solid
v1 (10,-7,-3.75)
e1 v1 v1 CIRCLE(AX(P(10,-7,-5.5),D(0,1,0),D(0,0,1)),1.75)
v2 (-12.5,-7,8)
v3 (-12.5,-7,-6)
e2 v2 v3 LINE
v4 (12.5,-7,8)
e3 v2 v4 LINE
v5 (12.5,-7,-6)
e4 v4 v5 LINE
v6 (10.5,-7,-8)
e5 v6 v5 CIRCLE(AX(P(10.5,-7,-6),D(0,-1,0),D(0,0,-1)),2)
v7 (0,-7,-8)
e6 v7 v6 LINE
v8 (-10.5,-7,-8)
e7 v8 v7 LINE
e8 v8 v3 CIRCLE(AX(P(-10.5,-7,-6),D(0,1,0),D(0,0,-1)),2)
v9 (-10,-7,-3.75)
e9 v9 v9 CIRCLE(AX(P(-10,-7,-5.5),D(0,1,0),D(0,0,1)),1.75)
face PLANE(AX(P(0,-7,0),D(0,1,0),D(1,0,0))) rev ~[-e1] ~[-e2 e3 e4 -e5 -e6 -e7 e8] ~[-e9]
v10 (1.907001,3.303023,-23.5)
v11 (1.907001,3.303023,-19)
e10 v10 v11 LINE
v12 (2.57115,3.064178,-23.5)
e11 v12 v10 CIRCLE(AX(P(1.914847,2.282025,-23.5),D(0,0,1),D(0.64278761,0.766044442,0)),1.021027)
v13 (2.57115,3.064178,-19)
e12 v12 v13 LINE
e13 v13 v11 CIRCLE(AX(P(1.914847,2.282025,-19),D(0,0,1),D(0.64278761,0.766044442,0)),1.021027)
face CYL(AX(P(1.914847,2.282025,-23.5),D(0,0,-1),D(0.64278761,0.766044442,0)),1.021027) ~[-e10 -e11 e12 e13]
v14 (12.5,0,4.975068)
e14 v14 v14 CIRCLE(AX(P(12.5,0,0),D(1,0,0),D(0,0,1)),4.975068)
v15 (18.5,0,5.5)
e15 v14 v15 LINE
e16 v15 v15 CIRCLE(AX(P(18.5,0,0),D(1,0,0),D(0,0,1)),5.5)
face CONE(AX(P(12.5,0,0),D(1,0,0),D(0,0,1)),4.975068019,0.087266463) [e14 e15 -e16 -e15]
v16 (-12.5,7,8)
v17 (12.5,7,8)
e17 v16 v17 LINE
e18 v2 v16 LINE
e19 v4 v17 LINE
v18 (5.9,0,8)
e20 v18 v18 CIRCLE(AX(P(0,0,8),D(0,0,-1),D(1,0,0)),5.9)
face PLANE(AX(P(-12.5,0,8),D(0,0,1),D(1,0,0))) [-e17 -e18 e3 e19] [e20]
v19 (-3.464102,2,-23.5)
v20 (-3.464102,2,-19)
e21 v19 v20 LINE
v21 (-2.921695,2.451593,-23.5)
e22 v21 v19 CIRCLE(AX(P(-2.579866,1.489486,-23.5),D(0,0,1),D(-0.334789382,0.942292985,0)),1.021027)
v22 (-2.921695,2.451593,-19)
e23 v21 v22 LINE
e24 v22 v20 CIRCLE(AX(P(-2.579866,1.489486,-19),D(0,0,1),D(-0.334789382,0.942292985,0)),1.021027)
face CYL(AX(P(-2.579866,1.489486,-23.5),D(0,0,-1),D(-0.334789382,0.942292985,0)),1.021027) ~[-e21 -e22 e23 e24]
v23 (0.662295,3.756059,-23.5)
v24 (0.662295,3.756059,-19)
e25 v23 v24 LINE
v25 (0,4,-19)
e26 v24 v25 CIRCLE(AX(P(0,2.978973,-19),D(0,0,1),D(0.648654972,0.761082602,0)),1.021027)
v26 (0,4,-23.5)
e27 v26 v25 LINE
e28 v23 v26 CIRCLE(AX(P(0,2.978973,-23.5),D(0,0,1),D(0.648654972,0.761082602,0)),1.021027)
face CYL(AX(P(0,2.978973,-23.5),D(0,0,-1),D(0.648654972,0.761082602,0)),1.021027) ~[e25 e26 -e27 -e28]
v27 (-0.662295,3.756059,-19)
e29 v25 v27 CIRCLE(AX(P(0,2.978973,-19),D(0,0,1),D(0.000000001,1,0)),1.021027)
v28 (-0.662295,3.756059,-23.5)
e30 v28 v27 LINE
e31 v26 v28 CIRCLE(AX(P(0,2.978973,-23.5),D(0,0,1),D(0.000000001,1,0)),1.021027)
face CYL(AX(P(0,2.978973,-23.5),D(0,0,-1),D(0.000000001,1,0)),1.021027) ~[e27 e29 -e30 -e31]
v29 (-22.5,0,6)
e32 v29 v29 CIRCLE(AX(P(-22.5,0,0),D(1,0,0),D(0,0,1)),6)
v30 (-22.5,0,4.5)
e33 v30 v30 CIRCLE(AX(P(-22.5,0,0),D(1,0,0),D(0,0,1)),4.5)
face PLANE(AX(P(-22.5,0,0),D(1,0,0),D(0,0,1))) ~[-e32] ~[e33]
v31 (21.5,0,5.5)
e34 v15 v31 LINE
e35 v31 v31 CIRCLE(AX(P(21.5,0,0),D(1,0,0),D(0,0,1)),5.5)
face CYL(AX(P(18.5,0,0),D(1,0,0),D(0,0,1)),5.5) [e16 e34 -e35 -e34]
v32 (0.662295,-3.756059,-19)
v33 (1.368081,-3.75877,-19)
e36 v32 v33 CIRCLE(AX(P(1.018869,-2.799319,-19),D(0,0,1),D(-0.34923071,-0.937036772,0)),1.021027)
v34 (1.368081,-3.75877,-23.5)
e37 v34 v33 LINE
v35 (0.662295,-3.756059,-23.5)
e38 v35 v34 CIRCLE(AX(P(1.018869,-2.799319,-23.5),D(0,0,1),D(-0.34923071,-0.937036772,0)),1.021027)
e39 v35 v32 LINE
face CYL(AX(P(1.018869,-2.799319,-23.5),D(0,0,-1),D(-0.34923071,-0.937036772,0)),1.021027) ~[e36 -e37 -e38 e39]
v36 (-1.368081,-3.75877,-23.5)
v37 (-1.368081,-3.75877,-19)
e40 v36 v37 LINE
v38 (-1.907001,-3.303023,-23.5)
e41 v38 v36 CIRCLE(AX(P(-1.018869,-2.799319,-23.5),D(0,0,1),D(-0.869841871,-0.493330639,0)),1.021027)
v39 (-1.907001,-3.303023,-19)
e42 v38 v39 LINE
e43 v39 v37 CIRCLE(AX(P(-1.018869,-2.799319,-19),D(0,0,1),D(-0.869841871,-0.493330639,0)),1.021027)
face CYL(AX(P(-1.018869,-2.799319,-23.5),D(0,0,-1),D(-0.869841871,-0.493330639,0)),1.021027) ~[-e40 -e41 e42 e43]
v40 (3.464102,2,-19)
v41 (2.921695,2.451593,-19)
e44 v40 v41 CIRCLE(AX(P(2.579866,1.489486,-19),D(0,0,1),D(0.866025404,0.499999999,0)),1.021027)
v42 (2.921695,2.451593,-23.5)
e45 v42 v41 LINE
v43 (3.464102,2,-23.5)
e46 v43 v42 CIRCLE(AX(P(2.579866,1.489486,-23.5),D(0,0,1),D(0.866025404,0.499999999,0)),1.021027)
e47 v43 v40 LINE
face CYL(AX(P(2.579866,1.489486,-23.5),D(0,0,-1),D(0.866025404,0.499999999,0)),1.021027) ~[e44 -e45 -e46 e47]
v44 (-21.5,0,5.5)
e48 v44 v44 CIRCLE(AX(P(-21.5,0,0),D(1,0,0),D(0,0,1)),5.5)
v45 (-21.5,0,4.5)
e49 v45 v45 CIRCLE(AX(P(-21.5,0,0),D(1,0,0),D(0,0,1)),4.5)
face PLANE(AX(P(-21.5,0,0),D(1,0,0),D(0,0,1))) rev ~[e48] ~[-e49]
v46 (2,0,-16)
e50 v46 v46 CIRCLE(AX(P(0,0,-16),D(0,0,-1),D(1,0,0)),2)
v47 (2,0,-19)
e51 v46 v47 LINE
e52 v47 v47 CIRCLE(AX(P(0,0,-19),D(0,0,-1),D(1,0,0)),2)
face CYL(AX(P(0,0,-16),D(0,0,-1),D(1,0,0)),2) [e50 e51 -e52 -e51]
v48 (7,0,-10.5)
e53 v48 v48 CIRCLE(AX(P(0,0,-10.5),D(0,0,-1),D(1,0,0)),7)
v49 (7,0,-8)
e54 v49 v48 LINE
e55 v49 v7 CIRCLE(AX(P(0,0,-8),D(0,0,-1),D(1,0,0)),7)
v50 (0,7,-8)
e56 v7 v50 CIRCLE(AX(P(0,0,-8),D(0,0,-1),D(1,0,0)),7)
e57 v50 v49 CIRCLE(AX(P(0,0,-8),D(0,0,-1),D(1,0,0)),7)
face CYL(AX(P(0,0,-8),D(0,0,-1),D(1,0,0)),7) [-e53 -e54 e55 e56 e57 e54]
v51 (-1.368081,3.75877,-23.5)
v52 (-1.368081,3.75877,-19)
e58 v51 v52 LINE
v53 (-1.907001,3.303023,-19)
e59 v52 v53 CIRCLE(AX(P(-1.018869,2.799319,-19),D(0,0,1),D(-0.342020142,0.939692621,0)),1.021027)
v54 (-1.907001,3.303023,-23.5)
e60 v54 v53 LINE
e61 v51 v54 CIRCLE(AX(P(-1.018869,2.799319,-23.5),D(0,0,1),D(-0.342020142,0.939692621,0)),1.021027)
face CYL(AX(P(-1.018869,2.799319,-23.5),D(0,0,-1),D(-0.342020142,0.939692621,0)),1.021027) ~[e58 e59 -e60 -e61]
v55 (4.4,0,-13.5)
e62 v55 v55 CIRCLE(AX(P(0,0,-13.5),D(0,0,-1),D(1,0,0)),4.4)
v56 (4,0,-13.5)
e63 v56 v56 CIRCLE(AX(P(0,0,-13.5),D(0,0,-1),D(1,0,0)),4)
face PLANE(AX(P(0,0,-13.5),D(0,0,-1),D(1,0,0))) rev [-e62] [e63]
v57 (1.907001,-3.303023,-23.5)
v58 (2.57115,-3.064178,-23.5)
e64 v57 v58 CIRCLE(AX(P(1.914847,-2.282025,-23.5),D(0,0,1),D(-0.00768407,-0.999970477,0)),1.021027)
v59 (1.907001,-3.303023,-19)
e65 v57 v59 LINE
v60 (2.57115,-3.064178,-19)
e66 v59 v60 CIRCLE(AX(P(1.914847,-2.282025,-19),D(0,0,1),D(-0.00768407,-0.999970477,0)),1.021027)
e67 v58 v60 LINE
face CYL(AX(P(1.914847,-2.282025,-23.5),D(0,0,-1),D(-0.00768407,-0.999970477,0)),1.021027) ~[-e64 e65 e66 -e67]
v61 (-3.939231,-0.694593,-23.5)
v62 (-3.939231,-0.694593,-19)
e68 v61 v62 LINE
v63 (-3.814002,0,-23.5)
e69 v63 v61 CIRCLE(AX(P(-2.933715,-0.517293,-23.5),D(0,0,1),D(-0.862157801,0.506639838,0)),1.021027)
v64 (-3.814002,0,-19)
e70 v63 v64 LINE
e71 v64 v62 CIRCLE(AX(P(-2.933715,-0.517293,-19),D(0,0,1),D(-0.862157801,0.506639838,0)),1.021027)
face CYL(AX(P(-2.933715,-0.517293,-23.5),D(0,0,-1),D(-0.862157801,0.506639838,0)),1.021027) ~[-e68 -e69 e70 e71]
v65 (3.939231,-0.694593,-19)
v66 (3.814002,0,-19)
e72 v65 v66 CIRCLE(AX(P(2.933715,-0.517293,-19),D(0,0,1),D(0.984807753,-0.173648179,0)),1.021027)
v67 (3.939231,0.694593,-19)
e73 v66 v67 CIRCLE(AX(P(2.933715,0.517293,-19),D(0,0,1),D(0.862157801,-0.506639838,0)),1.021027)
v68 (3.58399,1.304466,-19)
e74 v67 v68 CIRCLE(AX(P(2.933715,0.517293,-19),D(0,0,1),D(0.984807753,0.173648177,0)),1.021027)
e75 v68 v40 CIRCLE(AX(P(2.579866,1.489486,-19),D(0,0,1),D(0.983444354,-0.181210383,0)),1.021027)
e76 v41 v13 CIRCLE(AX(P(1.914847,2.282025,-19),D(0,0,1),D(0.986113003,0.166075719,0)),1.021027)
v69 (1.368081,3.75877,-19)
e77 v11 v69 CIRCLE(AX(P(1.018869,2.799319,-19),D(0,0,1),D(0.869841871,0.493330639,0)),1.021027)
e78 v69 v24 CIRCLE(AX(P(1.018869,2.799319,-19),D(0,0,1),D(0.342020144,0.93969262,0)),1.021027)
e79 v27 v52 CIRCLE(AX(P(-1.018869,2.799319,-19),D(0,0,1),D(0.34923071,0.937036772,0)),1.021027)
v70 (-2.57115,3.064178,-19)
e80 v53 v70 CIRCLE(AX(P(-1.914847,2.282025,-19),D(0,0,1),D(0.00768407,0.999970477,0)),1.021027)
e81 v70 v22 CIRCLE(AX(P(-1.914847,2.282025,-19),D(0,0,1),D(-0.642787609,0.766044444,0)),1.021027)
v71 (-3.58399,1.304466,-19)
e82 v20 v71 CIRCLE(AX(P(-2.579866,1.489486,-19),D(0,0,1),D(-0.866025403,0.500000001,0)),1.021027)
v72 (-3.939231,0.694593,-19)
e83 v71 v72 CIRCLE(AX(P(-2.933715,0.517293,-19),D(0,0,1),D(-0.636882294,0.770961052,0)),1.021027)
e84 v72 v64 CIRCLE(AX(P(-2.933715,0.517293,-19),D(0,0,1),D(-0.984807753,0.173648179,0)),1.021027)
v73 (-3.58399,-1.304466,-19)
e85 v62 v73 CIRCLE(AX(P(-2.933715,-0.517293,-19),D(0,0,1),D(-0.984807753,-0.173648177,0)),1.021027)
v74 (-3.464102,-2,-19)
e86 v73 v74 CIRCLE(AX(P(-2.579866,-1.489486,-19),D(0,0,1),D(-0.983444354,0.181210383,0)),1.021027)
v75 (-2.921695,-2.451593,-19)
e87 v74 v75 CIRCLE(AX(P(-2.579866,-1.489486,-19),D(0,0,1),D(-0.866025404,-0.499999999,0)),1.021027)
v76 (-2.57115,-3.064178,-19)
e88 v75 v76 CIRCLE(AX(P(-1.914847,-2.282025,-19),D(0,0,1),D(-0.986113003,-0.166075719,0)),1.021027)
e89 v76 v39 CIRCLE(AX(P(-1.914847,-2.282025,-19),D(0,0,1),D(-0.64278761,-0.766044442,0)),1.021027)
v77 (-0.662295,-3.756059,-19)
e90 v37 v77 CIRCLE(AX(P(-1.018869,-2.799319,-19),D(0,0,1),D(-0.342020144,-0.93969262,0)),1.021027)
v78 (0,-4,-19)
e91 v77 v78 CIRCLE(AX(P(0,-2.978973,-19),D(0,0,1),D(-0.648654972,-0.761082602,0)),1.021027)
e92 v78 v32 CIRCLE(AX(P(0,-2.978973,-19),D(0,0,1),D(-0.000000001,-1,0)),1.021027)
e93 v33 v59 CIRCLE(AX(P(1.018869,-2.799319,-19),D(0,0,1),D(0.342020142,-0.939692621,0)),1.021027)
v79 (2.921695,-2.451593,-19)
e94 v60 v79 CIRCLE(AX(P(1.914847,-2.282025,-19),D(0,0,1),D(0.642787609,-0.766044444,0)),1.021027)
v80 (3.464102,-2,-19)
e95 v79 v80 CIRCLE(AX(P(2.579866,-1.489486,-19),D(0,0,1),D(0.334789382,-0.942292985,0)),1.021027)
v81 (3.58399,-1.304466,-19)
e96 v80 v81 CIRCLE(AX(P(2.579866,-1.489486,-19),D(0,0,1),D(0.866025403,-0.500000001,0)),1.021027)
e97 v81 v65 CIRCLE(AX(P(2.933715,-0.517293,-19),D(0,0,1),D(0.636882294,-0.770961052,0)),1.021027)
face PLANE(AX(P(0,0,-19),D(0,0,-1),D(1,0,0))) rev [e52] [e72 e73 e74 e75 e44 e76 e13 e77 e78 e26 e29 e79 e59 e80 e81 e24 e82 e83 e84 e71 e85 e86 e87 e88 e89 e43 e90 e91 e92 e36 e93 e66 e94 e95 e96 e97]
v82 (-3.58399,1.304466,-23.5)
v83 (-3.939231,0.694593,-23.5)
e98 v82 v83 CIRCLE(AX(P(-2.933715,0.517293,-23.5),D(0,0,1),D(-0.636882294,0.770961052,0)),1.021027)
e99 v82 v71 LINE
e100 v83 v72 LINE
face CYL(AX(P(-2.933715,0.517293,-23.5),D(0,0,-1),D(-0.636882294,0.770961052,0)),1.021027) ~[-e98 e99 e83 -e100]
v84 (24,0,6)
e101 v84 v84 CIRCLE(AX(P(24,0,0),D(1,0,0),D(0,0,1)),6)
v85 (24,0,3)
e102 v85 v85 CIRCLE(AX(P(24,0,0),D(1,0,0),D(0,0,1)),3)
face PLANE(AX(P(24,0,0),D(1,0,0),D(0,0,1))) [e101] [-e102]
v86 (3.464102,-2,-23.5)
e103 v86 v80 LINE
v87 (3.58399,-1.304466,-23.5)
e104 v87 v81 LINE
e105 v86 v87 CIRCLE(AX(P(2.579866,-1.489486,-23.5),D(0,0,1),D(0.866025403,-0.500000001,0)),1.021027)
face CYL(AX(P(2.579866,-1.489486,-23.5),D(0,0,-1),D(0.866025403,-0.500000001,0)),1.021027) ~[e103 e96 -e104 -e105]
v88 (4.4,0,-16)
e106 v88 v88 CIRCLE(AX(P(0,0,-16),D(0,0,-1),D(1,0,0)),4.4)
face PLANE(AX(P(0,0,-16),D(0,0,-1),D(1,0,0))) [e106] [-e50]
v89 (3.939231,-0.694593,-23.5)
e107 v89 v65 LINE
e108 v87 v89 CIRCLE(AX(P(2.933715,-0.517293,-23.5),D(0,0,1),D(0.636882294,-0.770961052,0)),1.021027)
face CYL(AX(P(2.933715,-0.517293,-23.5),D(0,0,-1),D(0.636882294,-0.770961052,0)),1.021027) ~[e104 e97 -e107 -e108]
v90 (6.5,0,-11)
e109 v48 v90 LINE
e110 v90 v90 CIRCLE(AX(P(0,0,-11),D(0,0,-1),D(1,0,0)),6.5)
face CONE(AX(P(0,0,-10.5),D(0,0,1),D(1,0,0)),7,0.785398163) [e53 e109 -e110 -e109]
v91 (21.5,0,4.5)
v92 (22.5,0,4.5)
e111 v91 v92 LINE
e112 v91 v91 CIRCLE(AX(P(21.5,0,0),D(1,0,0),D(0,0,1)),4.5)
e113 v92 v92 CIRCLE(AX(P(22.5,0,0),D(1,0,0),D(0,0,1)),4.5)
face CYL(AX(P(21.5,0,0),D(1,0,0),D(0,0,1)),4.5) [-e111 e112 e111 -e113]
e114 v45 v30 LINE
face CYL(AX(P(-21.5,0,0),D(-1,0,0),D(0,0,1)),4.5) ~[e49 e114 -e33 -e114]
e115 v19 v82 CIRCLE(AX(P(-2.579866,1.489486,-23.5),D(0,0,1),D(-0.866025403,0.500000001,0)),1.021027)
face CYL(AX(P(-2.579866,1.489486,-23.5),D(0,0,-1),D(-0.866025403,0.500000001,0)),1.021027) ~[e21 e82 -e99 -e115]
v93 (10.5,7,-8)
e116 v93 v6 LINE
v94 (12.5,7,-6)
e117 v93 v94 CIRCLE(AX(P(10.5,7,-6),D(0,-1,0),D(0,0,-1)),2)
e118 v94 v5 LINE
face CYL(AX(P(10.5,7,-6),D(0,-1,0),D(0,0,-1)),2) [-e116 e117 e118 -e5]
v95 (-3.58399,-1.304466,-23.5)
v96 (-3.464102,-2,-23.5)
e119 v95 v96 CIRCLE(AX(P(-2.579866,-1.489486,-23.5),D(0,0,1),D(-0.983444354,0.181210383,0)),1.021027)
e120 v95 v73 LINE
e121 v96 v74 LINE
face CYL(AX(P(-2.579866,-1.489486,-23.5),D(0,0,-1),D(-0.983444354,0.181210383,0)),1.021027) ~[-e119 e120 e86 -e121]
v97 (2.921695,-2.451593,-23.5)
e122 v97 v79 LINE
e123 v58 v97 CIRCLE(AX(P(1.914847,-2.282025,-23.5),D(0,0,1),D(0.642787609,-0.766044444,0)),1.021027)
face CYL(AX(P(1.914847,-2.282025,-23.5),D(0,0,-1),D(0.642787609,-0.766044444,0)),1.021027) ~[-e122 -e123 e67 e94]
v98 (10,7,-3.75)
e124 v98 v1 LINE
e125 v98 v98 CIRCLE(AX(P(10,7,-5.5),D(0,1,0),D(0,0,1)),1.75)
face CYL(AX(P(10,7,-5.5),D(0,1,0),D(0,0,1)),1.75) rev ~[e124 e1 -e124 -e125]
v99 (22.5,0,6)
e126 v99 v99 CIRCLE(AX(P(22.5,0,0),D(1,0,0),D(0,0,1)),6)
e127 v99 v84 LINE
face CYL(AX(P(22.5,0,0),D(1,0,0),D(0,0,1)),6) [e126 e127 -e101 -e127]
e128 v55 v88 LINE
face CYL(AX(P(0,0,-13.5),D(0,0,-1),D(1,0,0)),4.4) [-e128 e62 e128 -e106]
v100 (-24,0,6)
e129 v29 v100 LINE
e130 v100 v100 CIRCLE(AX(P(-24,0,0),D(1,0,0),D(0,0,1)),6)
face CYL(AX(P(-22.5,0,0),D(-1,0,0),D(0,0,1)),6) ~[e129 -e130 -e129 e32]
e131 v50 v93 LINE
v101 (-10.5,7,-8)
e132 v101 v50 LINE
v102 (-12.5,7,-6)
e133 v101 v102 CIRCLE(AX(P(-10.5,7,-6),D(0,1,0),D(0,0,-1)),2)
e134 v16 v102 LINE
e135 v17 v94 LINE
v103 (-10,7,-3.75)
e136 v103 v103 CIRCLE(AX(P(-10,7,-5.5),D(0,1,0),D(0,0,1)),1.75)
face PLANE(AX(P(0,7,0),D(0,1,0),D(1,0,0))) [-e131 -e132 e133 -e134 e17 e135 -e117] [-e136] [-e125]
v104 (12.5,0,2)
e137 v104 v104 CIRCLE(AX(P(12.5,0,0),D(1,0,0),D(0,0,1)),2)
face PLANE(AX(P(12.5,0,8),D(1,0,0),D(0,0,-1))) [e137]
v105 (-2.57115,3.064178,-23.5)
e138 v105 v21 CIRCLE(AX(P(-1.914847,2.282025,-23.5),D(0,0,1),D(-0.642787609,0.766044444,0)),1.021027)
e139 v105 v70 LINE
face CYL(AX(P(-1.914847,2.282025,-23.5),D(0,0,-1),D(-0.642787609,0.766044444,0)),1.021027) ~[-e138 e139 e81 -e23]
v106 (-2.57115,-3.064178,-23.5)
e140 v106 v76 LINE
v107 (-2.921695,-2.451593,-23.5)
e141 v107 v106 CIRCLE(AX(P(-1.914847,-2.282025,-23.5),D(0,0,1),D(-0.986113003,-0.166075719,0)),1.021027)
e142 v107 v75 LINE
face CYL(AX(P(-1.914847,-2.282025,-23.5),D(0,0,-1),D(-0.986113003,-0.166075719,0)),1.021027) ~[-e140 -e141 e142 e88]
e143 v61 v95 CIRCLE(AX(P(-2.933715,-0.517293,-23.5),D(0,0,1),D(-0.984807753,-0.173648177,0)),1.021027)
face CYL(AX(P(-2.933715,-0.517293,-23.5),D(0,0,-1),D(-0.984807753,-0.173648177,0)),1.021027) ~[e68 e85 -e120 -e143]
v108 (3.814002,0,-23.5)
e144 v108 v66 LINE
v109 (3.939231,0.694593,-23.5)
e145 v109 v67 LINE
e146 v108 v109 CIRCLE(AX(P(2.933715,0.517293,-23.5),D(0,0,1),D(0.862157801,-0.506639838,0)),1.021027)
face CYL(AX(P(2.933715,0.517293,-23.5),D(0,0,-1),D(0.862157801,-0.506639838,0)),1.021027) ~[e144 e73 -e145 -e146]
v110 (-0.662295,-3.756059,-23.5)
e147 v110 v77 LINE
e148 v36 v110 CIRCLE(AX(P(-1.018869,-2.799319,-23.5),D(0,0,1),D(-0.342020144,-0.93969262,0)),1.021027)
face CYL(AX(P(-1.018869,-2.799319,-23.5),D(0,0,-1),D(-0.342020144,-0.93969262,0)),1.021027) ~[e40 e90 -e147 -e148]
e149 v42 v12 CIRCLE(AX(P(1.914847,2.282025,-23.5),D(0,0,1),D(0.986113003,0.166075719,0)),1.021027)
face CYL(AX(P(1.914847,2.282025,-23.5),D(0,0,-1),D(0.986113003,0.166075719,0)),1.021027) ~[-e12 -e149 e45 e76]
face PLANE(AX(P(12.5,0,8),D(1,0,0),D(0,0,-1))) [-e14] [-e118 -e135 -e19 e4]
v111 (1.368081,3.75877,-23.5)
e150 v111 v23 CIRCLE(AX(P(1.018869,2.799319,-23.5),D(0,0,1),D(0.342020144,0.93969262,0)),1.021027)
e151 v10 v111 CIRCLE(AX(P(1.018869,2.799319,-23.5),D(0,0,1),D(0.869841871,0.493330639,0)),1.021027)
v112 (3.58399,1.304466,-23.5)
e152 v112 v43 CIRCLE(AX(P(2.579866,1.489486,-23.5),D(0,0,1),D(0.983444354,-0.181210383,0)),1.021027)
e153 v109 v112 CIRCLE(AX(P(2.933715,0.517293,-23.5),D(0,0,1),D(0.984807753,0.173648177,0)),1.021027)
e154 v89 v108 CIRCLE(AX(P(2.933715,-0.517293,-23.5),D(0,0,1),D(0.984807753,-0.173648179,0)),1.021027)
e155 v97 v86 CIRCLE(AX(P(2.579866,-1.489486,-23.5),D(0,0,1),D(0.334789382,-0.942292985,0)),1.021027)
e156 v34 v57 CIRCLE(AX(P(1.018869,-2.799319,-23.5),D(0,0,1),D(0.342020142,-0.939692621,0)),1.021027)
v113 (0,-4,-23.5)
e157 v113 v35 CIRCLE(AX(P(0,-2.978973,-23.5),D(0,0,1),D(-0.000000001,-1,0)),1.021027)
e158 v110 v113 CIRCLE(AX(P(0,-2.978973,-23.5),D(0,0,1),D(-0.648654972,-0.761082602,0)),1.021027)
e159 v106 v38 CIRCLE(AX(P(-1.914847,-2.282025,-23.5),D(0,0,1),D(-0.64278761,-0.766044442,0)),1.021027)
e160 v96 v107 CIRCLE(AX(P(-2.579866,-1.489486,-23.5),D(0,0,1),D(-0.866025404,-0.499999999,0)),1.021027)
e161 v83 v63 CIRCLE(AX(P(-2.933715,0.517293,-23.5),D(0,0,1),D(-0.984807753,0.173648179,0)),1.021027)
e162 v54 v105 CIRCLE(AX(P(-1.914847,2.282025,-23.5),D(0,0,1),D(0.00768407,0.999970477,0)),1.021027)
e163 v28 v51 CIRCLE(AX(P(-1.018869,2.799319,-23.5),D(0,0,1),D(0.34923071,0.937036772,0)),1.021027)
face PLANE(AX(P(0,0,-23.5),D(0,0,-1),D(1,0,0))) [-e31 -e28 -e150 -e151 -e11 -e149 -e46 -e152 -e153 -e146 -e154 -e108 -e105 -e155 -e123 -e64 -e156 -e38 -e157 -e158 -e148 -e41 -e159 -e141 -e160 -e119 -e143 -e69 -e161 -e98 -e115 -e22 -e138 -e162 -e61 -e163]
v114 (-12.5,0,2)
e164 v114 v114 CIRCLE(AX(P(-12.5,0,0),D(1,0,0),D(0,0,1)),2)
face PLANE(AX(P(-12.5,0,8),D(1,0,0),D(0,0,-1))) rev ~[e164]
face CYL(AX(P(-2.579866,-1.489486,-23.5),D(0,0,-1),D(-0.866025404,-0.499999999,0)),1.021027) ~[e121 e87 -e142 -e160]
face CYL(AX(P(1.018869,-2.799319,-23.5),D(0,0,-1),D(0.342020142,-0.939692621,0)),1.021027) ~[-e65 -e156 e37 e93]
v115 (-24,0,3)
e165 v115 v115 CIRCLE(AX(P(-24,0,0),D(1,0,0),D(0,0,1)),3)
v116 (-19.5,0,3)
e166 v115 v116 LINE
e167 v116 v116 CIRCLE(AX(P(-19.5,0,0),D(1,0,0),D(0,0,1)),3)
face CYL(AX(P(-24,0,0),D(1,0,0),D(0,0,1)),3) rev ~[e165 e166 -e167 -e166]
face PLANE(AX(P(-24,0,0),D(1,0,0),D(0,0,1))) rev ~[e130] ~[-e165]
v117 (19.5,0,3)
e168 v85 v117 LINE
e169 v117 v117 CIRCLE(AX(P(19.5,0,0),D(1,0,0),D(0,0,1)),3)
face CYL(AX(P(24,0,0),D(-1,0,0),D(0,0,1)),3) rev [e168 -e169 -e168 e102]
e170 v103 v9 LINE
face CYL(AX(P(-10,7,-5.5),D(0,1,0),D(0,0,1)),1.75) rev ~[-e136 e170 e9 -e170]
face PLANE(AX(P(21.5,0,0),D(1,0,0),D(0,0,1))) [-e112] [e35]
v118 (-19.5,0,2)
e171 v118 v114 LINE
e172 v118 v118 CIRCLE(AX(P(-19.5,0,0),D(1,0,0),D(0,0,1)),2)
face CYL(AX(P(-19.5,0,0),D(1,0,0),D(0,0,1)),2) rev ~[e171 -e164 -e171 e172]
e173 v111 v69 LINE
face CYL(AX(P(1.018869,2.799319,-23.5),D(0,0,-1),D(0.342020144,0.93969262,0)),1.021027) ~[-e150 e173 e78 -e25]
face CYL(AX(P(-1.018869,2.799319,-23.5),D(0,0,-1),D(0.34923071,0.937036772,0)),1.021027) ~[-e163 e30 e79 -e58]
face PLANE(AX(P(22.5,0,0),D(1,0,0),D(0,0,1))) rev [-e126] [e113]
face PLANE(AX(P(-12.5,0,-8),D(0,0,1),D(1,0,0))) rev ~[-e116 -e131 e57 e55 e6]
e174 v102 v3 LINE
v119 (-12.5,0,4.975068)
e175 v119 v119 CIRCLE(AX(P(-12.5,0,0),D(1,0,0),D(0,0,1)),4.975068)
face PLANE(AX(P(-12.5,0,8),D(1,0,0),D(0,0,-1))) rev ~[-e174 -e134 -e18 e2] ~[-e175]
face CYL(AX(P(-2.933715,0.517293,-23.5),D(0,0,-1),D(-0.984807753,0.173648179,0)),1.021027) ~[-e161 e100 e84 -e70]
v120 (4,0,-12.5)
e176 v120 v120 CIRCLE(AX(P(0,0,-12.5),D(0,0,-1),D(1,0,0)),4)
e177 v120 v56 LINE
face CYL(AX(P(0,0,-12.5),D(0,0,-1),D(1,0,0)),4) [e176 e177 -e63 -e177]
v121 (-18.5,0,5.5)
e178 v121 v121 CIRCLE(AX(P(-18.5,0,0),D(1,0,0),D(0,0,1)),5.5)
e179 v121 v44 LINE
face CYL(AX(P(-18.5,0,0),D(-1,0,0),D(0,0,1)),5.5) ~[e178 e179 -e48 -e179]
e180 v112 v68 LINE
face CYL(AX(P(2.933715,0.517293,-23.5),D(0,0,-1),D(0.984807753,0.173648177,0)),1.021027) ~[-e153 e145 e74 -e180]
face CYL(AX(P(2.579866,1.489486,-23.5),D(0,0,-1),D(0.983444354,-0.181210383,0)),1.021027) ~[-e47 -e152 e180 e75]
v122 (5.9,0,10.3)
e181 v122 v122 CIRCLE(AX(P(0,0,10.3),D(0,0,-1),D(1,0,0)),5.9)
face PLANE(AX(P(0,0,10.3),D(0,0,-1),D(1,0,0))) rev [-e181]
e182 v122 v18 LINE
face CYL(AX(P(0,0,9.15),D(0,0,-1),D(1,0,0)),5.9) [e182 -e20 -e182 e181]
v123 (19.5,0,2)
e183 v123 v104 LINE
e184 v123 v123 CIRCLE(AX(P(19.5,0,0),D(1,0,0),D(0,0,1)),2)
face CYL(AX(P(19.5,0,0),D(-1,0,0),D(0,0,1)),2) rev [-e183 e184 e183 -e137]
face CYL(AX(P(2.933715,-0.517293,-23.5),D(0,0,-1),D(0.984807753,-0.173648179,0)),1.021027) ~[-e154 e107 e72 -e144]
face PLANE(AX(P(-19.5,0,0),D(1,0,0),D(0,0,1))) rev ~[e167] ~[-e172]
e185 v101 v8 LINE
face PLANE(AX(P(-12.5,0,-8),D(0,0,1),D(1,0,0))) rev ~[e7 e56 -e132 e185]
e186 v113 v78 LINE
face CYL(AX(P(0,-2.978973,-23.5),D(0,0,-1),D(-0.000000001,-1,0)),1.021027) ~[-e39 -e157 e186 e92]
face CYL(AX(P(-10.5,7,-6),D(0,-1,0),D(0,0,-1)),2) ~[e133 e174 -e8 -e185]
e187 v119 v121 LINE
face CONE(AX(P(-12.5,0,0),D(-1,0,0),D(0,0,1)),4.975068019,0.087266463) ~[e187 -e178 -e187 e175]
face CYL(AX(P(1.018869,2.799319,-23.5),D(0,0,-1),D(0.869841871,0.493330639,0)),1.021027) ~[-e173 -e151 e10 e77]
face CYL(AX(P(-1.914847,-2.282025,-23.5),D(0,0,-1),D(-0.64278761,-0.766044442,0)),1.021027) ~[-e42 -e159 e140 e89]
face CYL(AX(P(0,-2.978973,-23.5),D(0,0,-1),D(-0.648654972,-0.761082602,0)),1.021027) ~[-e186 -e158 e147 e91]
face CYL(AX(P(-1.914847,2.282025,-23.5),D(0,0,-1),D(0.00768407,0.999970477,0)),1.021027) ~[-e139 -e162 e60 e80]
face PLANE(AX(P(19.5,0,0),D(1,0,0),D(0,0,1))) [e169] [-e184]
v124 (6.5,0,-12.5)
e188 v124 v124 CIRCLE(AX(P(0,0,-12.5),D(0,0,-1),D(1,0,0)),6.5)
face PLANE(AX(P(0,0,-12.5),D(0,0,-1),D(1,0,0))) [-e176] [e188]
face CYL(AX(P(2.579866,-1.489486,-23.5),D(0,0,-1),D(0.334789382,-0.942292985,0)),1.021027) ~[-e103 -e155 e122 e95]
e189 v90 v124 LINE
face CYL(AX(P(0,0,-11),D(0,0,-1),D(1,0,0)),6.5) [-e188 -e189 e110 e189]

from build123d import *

# Parameters (mm, degrees)
SKETCH_1_W               = 25
SKETCH_1_H               = 16
EXTRUDE_1_DEPTH          = 7
SKETCH_3_W               = 5.9
SKETCH_3_H               = 2.3
FILLET_1_R               = 2
SKETCH_4_R               = 1.75
CUT_EXTRUDE_1_DEPTH      = 37.390245946
CUT_EXTRUDE_2_DEPTH      = 4.5
PATTERN_CIRCULAR_1_COUNT = 18


with BuildPart() as part:
    # 草图1 → 凸台-拉伸1 (new, symmetric)
    with BuildSketch(Plane(origin=(0, 0, 0), x_dir=(1, 0, 0), z_dir=(0, 1, 0))):
        Rectangle(SKETCH_1_W, SKETCH_1_H)
    extrude(amount=EXTRUDE_1_DEPTH, both=True)

    # 草图2 → 旋转1 (revolve)
    with BuildSketch(Plane(origin=(0, 0, 0), x_dir=(1, 0, 0), z_dir=(0, 1, 0)), mode=Mode.PRIVATE) as revolve_1_sk:
        Polygon((-12.5, 4.975068019), (-18.5, 5.5), (-21.5, 5.5), (-21.5, 4.5), (-22.5, 4.5), (-22.5, 6), (-24, 6), (-24, 3), (-19.5, 3), (-19.5, 2), (-12.5, 2), align=None)
        Polygon((19.5, 2), (12.5, 2), (12.5, 4.975068019), (18.5, 5.5), (21.5, 5.5), (21.5, 4.5), (22.5, 4.5), (22.5, 6), (24, 6), (24, 3), (19.5, 3), align=None)
    revolve(revolve_1_sk.sketch.rotate(Axis((-27.060600163, 0, 0), (1, 0, 0)), 180), axis=Axis((-27.060600163, 0, 0), (1, 0, 0)))

    # 草图3 → 旋转2 (revolve)
    with BuildSketch(Plane(origin=(0, 0, 0), x_dir=(1, 0, 0), z_dir=(0, 1, 0))):
        Polygon((7, 8), (7, 10.5), (6.5, 11), (6.5, 12.5), (4, 12.5), (4, 13.5), (4.4, 13.5), (4.4, 16), (2, 16), (2, 19), (4, 19), (4, 23.5), (0, 23.5), (0, 8), align=None)
        with Locations((2.95, -9.15)):
            Rectangle(SKETCH_3_W, SKETCH_3_H)
    revolve(axis=Axis((0, 0, 30.021655922), (0, 0, -1)))

    # 圆角1
    fillet_1_edges = [part.edges().sort_by_distance(p)[0] for p in [
        (-12.5, 0, -8),
        (12.5, 0, -8),
    ]]
    fillet(fillet_1_edges, radius=FILLET_1_R)

    # 草图4 → 切除-拉伸1 (cut, through all)
    with BuildSketch(Plane(origin=(0, 7, 0), x_dir=(1, 0, 0), z_dir=(0, 1, 0))):
        with Locations(Location((-10, 5.5, 0), (0, 0, 270))):
            Circle(SKETCH_4_R)
        with Locations(Location((10, 5.5, 0), (0, 0, 270))):
            Circle(SKETCH_4_R)
    extrude(amount=-CUT_EXTRUDE_1_DEPTH, mode=Mode.SUBTRACT)

    # 草图5 → 切除-拉伸2 (cut)
    with BuildSketch(Plane(origin=(0, 0, -23.5), x_dir=(-1, 0, 0), z_dir=(0, 0, -1))):
        with BuildLine():
            ThreePointArc((0, 4), (0.352895639, 3.937075737), (0.662294506, 3.756058788))
            ThreePointArc((0.662294506, 3.756058788), (1.01494578, 3.820338434), (1.368080573, 3.758770483))
            ThreePointArc((1.368080573, 3.758770483), (0.694592711, 3.939231012), (0, 4))
        make_face()
    cut_extrude_2 = extrude(amount=-CUT_EXTRUDE_2_DEPTH, mode=Mode.SUBTRACT)

    # 阵列(圆周)1: 切除-拉伸2 ×18 about axis
    pattern_circular_1_axis = Axis((0, 0, 0), (0, 0, 1))
    for i in range(1, PATTERN_CIRCULAR_1_COUNT):
        add(cut_extrude_2.rotate(pattern_circular_1_axis, i * 360 / PATTERN_CIRCULAR_1_COUNT), mode=Mode.SUBTRACT)


solid = part.part
